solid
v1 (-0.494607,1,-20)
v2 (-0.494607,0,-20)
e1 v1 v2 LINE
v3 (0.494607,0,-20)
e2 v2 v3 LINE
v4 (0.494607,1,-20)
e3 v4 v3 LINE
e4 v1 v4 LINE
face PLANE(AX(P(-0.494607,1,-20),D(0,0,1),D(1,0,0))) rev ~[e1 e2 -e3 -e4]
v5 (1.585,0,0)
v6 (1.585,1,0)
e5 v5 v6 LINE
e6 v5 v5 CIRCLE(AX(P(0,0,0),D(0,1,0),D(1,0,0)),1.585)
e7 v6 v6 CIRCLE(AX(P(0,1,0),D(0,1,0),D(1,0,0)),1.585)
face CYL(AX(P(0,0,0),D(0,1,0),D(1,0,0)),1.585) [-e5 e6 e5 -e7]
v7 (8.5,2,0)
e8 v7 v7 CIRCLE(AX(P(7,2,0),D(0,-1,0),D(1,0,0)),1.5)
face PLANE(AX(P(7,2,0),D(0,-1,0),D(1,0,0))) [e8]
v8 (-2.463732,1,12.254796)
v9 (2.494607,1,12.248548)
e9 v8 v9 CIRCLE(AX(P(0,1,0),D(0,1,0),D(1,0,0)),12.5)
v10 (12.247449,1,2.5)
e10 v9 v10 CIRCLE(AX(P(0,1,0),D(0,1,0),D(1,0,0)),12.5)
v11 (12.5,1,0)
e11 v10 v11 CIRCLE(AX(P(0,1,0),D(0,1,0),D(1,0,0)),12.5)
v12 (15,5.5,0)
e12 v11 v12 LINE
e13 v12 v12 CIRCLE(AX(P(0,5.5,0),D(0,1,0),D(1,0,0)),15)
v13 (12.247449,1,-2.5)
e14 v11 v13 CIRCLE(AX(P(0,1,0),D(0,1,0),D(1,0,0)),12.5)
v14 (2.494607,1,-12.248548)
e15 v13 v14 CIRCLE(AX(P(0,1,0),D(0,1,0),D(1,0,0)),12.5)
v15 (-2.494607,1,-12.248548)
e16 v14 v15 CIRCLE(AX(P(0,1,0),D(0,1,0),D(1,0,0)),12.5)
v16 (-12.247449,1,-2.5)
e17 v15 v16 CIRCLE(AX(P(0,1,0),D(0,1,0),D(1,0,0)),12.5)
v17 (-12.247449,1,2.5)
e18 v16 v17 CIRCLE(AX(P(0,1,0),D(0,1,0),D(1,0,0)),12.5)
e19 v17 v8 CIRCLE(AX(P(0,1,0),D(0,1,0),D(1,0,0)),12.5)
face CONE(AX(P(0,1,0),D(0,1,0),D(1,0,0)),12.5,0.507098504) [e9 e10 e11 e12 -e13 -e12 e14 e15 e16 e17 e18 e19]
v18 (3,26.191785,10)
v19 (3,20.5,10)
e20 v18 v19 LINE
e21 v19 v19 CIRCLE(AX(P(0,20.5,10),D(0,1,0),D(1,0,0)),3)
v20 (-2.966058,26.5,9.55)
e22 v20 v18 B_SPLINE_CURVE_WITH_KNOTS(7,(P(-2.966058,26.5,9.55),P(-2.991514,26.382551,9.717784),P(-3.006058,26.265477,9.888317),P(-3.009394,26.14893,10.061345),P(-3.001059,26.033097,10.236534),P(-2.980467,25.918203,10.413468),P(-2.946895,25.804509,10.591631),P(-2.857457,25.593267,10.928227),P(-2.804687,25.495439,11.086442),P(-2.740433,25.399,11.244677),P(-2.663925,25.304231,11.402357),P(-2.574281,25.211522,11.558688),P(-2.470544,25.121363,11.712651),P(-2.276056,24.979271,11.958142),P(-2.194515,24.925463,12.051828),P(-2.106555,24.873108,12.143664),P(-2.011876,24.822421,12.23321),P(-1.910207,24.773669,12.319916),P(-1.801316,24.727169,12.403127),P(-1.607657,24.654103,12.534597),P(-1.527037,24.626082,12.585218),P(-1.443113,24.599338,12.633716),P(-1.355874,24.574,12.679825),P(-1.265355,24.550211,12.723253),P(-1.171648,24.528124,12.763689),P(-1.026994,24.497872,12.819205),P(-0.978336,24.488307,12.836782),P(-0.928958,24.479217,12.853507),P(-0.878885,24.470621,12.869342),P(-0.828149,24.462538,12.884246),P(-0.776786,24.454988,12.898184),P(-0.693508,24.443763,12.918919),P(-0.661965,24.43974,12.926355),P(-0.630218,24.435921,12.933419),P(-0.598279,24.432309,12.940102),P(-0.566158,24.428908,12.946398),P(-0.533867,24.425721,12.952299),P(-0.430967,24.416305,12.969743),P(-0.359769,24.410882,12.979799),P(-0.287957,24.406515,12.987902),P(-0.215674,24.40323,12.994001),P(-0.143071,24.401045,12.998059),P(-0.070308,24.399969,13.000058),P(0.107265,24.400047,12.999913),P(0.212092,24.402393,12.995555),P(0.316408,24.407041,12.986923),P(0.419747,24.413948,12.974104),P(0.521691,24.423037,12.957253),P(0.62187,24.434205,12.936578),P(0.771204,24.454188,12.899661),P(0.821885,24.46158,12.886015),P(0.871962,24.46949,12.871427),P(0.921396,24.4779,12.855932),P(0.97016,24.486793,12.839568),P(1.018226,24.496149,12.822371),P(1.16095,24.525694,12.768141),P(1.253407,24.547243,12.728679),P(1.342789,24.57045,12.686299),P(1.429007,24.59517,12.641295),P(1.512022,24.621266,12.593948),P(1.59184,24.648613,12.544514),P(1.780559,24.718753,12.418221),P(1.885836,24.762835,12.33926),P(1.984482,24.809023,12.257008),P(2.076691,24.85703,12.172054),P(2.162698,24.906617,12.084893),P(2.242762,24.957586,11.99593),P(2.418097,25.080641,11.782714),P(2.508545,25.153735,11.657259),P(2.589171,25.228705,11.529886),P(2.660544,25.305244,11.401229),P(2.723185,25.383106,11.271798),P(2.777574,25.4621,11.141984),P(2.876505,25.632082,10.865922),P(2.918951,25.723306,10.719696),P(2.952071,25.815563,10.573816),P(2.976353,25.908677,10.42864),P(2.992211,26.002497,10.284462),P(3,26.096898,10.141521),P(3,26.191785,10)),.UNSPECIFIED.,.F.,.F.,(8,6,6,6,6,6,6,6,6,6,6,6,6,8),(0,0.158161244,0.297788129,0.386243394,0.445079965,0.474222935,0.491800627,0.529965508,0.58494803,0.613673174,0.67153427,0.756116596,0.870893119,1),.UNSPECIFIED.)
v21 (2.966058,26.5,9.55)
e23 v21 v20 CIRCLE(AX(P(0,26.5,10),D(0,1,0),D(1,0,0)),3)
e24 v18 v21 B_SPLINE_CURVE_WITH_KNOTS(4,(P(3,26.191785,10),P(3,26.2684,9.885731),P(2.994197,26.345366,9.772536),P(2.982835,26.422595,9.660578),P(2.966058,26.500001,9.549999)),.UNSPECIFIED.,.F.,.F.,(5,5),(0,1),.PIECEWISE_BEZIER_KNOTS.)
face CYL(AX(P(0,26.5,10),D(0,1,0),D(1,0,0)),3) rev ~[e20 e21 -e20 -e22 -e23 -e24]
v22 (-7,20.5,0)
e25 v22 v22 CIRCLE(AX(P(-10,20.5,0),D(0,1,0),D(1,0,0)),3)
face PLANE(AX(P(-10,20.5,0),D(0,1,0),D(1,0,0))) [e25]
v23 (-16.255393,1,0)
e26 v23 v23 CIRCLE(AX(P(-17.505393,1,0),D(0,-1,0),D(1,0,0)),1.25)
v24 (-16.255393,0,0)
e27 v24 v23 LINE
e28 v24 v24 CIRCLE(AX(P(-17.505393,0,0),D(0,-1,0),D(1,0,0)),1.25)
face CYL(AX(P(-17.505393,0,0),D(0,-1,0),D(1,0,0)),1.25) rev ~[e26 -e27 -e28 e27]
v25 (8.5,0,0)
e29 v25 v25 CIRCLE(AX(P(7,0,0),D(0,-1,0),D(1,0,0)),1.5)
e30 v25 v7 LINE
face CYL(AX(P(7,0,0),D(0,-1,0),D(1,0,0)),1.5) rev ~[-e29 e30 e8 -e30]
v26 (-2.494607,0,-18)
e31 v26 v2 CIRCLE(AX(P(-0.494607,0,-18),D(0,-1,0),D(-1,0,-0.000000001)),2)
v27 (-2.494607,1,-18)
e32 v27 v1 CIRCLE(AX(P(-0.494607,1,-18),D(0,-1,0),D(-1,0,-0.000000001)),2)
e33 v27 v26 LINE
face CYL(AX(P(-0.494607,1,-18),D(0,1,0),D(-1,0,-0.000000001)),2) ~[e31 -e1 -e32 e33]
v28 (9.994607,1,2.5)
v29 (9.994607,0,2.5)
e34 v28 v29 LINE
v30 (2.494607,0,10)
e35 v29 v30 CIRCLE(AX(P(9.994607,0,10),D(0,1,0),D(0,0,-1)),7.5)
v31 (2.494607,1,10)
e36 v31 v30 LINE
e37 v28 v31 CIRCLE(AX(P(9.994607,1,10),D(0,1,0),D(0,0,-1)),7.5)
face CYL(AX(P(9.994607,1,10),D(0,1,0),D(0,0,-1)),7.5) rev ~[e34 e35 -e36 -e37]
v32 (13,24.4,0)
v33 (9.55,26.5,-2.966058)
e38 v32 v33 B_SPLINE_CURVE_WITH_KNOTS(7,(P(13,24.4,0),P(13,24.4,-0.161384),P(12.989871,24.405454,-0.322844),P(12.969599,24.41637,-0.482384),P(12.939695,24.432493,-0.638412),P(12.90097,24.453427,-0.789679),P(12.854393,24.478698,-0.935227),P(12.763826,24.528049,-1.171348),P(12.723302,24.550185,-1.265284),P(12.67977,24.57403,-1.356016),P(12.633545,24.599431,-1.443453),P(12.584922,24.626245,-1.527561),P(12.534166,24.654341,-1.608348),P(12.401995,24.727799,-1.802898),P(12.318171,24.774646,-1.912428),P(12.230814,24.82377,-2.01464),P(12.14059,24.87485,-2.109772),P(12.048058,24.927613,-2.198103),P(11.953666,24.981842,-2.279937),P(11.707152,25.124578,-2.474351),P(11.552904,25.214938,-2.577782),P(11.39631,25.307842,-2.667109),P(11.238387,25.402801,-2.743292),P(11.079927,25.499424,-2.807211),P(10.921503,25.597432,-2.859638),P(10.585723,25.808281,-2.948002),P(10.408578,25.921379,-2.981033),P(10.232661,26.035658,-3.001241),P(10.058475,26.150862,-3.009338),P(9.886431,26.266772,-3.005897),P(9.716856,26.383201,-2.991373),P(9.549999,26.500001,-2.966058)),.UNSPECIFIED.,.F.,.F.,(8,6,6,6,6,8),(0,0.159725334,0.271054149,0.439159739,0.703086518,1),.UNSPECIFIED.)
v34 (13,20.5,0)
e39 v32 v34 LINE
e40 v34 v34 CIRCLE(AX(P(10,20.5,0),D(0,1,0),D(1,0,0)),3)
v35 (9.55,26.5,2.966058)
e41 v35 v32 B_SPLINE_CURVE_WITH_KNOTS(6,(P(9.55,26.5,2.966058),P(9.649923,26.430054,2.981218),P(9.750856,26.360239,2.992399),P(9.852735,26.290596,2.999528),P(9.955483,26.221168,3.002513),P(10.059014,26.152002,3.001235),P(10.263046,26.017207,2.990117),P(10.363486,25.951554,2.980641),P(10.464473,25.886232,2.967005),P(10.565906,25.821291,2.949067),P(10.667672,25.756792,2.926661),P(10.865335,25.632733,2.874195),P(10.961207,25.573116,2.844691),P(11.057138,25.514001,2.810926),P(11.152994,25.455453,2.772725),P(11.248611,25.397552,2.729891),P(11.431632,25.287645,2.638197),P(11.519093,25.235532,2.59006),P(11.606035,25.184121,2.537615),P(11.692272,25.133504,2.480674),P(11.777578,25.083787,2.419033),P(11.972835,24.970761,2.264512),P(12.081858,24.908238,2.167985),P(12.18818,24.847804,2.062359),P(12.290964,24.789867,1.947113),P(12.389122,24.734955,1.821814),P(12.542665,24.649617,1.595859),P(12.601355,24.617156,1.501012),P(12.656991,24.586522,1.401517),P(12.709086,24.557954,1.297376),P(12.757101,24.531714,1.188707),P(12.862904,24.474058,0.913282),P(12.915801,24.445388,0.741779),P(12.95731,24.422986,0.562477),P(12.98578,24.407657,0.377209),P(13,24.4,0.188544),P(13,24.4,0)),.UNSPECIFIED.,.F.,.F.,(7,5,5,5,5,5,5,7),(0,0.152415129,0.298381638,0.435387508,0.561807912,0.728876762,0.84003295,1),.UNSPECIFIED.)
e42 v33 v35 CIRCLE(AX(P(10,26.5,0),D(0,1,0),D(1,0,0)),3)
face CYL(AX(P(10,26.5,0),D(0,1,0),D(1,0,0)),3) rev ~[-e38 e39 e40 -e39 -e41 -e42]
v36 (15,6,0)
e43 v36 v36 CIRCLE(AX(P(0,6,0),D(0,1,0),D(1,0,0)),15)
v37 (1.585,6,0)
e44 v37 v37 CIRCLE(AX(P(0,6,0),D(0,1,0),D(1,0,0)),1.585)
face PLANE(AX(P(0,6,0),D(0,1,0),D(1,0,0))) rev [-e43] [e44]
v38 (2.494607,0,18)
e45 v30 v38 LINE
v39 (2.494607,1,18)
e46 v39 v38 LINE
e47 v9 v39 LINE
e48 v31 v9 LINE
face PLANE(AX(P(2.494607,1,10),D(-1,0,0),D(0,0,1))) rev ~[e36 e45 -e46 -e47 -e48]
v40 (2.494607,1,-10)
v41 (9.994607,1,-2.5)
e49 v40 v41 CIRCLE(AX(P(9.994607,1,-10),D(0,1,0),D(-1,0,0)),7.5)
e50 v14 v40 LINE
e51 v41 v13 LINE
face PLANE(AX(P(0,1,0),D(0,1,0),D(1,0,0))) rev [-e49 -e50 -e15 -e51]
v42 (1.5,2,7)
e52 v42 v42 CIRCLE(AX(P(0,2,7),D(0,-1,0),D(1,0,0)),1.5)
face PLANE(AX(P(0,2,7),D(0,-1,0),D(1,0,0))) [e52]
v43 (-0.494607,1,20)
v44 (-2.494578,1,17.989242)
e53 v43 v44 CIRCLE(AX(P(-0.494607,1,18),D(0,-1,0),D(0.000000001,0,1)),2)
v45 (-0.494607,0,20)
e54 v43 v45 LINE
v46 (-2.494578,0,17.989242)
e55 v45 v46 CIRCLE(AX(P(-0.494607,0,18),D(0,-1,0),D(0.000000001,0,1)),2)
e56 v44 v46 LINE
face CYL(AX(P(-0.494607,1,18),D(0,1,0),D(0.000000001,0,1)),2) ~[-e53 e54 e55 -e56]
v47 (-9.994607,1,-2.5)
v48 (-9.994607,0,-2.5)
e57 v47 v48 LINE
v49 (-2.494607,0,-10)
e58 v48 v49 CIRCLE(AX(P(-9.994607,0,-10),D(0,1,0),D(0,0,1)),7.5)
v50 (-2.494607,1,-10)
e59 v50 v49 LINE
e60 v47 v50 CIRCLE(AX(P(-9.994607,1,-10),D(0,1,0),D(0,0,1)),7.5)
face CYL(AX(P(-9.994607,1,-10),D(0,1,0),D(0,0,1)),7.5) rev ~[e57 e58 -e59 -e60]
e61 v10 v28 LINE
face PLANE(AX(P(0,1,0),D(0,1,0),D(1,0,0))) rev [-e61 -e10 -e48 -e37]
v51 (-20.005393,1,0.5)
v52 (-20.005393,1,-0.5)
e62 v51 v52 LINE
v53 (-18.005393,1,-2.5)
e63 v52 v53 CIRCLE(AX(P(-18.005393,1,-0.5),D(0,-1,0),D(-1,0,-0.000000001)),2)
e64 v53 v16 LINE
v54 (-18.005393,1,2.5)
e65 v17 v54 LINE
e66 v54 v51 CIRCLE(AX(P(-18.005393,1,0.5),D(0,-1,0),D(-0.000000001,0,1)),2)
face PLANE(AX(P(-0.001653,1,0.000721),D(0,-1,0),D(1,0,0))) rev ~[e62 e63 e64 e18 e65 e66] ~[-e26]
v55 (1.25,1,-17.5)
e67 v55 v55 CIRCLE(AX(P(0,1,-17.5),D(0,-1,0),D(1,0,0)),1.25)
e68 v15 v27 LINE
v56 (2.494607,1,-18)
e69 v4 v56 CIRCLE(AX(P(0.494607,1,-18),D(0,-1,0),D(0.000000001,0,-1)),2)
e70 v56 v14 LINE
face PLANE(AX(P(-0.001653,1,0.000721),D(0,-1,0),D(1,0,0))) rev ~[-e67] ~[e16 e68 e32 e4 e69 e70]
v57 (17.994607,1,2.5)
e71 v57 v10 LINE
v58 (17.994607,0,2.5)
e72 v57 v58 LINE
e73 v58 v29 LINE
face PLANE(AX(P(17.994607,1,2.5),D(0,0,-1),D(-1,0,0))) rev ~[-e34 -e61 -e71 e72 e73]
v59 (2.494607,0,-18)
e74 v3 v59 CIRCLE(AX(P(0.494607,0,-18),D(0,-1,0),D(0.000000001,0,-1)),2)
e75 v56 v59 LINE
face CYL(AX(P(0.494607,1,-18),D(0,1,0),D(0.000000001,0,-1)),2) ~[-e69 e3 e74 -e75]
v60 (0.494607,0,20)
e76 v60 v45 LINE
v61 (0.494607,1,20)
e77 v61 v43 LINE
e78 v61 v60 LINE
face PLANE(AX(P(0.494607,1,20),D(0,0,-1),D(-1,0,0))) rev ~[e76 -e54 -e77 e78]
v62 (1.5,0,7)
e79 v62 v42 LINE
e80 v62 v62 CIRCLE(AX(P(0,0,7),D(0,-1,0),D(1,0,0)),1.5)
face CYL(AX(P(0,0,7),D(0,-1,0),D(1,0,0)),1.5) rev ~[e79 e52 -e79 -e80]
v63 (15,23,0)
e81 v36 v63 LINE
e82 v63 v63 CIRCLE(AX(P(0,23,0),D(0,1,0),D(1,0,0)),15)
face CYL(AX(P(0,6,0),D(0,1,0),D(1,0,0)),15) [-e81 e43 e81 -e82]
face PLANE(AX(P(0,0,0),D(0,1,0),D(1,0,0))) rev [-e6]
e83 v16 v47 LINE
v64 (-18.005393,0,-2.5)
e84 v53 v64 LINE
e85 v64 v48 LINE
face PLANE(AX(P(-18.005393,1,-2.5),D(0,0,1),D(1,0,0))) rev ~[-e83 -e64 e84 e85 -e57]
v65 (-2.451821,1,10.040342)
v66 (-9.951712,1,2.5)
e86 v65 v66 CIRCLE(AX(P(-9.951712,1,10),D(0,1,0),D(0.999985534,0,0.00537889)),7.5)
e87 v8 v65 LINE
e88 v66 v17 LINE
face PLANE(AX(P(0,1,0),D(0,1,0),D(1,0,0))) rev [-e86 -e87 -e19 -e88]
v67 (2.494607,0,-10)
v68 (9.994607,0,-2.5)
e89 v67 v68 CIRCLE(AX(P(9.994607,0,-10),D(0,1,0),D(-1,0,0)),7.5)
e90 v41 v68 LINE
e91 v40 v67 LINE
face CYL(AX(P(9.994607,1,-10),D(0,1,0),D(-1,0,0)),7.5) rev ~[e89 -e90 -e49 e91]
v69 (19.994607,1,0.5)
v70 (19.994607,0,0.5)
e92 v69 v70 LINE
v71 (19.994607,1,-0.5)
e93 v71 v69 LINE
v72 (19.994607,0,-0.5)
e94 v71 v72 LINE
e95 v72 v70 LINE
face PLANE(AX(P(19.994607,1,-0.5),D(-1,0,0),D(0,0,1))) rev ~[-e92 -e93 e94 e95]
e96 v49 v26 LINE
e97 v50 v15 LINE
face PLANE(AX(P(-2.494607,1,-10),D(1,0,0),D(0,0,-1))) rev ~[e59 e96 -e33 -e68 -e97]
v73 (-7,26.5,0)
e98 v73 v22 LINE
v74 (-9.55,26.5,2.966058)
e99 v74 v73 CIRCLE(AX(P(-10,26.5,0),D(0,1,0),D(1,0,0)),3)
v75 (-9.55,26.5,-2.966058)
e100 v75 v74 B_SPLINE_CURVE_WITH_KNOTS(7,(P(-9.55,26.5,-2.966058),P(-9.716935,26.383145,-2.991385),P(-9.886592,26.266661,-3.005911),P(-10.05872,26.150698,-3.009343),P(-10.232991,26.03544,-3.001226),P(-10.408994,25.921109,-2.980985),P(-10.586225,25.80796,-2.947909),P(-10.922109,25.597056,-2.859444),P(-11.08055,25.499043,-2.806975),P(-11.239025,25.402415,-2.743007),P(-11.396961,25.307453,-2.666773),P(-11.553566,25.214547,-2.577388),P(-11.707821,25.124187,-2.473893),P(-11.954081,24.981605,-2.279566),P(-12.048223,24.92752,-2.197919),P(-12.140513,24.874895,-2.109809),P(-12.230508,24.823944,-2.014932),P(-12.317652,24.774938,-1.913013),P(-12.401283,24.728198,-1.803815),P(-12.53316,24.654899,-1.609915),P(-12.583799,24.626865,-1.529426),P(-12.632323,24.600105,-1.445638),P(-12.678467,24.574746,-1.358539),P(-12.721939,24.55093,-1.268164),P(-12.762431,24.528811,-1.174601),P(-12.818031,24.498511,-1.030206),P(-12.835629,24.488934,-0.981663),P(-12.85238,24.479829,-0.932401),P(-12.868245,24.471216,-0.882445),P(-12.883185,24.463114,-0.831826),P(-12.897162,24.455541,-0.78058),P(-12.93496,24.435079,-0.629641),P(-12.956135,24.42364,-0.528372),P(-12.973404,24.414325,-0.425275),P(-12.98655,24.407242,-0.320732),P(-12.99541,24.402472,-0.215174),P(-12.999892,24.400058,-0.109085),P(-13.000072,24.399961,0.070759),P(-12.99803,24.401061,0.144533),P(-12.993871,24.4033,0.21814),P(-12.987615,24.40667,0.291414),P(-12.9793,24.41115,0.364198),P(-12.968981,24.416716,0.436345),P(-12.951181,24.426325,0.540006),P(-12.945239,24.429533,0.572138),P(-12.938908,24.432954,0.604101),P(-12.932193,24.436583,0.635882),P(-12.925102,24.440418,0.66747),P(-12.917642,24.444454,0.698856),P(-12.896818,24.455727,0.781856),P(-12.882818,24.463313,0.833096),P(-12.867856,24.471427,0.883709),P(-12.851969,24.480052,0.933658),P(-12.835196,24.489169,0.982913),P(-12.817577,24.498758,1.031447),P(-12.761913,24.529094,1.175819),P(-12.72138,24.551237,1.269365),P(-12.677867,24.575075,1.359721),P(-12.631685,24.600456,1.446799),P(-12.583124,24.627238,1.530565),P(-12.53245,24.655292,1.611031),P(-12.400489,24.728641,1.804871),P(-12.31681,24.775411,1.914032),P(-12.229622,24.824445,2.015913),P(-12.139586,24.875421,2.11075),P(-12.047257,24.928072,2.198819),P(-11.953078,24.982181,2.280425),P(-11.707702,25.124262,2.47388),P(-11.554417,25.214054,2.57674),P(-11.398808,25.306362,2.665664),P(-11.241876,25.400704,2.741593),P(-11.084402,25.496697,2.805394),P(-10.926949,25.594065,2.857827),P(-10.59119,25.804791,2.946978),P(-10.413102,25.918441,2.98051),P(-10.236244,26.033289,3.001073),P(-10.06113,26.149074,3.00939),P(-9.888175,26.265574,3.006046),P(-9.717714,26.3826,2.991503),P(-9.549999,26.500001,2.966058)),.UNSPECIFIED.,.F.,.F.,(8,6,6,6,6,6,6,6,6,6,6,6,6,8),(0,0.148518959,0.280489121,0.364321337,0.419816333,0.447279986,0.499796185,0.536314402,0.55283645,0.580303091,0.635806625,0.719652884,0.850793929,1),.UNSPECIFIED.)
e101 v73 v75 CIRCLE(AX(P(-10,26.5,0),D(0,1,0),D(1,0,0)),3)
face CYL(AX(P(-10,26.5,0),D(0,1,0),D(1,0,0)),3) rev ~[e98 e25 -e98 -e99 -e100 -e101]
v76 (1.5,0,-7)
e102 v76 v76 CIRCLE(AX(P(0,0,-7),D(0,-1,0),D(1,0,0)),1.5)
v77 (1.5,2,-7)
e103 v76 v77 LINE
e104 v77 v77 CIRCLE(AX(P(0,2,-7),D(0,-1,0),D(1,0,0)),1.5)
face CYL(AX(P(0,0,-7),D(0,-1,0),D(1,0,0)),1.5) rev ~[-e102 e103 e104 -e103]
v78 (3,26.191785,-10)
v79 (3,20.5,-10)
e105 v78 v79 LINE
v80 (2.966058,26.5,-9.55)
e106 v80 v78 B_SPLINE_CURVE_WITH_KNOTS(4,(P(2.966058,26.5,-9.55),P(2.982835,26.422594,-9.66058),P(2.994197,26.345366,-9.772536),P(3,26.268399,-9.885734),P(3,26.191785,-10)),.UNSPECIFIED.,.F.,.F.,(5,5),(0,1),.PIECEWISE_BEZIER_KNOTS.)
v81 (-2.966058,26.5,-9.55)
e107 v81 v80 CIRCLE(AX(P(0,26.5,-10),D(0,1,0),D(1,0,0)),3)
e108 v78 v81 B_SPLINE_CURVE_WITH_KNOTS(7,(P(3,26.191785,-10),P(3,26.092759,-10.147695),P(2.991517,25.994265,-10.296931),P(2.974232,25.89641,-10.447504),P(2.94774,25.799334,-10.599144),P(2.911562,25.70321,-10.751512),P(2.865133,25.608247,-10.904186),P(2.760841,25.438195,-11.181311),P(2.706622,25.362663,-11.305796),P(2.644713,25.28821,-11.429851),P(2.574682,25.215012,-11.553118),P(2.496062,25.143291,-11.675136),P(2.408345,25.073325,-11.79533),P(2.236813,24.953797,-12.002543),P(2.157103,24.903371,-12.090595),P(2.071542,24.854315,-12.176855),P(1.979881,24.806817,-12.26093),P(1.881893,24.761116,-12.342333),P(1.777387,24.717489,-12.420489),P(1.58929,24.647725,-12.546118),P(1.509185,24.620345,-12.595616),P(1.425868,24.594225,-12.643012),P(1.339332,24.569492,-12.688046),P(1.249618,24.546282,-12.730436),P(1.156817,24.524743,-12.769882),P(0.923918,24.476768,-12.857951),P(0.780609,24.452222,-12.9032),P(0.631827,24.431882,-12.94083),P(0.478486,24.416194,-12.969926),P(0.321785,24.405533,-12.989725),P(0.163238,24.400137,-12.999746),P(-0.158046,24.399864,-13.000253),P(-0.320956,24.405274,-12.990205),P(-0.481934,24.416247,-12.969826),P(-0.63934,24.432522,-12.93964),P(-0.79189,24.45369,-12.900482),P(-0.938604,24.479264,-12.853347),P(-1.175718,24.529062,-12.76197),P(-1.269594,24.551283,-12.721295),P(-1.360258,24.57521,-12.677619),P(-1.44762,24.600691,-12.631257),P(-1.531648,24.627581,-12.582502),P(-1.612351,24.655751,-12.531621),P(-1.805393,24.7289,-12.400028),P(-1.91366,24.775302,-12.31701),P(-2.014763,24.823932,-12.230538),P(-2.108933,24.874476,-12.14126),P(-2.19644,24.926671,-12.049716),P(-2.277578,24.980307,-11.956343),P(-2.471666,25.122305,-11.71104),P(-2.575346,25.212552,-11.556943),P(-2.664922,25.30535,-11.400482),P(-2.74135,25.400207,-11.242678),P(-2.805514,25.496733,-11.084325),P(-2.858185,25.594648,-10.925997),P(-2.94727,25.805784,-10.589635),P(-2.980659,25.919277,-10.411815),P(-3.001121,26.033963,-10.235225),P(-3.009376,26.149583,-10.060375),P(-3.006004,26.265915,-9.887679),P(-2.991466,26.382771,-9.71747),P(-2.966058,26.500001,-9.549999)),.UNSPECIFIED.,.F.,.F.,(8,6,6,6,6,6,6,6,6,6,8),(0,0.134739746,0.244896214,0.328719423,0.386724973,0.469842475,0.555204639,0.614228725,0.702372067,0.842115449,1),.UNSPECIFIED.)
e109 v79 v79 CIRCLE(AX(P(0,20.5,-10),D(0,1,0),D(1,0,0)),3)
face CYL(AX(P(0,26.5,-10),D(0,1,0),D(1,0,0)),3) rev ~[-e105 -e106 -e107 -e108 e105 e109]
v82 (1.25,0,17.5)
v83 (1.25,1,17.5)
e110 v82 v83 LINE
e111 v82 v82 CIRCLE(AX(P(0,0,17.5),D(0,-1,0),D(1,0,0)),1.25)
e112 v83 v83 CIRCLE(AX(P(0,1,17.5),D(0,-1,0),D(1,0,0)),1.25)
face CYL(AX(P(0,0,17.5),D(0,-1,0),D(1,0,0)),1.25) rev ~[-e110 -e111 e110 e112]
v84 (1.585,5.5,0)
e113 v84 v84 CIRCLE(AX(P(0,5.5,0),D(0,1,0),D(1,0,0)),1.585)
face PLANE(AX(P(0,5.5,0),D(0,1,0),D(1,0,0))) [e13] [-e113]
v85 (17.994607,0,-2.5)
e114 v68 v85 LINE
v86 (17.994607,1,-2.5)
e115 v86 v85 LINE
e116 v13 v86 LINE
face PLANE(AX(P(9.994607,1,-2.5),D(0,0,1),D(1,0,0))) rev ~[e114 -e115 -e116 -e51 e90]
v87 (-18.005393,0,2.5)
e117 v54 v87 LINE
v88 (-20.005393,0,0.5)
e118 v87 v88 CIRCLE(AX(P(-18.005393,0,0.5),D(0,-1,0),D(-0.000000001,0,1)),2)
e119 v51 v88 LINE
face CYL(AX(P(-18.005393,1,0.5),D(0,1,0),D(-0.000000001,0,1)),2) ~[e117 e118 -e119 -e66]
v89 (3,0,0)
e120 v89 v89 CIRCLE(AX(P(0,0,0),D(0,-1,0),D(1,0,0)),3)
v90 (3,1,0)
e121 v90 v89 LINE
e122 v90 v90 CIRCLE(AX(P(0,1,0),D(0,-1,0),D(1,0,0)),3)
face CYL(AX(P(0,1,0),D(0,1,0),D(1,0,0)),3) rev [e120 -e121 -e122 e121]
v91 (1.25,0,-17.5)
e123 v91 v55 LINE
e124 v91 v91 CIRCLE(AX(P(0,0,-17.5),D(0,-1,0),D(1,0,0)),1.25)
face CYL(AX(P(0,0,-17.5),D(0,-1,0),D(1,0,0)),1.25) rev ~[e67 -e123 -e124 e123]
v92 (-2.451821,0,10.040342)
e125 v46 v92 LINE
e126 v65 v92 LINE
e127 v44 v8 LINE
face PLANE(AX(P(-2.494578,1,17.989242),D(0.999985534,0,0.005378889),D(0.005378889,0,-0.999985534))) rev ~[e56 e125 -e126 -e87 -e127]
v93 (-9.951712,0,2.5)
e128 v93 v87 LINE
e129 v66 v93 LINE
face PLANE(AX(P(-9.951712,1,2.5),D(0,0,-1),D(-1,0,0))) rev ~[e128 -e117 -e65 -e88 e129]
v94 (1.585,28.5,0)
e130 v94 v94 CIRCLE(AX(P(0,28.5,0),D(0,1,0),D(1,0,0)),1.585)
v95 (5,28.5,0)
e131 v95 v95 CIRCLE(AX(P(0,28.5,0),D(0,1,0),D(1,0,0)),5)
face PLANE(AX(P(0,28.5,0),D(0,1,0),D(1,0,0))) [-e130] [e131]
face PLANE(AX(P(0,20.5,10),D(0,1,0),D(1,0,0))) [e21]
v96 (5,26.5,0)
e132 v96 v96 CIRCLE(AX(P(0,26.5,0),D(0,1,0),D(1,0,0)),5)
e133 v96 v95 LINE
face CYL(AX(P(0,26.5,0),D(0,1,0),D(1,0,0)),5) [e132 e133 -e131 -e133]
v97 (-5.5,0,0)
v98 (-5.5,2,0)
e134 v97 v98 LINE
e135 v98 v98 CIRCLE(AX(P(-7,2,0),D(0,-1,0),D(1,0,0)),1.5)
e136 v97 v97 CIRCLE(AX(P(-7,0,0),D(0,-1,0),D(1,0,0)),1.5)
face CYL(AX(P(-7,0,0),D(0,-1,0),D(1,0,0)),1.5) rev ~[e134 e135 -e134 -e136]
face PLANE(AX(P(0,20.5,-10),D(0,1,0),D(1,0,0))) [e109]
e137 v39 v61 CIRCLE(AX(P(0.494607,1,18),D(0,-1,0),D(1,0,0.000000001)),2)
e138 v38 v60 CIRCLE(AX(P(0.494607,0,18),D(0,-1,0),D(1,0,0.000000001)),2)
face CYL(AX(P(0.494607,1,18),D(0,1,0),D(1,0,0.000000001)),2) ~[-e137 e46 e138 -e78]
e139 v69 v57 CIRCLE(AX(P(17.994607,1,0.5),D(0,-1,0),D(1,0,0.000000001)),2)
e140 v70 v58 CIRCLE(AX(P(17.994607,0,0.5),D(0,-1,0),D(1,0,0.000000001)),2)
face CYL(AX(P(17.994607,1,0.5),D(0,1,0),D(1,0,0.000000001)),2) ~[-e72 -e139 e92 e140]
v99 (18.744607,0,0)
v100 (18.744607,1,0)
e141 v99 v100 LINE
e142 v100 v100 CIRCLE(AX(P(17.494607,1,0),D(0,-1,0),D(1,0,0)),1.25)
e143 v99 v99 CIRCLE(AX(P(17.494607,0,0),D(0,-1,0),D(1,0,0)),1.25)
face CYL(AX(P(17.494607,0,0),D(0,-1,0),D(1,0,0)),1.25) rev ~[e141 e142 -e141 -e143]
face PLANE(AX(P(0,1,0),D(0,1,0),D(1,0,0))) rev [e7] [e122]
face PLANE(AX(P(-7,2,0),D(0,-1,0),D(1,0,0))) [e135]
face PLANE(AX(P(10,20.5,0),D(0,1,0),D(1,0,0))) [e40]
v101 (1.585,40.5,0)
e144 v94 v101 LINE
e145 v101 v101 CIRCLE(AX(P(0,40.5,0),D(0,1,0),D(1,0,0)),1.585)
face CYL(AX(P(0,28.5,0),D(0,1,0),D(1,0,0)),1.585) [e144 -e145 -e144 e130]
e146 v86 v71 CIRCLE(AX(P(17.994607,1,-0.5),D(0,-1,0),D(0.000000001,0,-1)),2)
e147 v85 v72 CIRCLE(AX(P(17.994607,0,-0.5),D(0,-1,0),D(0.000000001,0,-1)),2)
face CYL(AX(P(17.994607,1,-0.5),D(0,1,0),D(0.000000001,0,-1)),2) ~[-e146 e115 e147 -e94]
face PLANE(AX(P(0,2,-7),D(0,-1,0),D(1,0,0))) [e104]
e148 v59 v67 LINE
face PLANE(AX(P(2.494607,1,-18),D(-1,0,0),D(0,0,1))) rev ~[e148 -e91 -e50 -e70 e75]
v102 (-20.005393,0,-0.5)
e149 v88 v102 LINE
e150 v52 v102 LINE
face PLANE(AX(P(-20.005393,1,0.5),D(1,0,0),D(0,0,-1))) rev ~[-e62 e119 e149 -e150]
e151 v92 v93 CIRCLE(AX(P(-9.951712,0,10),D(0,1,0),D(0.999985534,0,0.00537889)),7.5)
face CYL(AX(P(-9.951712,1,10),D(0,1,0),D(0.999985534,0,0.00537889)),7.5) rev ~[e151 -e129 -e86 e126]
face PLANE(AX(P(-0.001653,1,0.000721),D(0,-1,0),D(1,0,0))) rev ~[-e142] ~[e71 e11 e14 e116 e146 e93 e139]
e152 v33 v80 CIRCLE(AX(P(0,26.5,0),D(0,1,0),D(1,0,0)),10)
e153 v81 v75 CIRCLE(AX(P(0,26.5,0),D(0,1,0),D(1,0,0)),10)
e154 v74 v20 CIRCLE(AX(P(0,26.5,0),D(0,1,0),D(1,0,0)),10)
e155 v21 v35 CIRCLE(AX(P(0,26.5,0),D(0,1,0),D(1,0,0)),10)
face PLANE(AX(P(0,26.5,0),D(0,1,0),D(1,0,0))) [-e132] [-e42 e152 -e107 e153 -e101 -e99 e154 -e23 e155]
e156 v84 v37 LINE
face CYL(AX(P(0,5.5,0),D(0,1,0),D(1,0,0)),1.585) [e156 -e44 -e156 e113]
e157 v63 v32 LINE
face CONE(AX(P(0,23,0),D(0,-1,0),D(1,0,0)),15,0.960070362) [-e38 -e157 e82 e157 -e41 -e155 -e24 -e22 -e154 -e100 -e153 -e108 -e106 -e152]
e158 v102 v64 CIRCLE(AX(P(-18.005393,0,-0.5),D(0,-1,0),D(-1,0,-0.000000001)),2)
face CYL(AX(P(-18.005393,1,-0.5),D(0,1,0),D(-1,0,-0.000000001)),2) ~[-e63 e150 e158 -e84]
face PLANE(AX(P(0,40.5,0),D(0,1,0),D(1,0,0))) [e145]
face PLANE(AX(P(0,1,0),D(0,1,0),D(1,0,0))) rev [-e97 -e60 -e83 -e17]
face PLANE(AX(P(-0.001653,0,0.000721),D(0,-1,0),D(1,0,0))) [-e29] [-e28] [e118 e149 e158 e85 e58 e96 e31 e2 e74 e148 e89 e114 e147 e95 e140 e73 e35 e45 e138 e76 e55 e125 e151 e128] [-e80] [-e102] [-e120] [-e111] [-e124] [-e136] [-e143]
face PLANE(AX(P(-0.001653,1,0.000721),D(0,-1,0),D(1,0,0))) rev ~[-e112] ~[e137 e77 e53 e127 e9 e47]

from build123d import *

# Parameters (mm, degrees)
SKETCH4_R                  = 3
MOTOR_COOLING_SYSTEM_DEPTH = 6
SKETCH6_R                  = 3
MOTOR_BASE_HOLDER_DEPTH    = 1
SKETCH9_R                  = 1.25
SKETCH9_R_2                = 1.5
SCREWS_CUT_DEPTH           = 2


with BuildPart() as part:
    # Sketch1 → Electric motor body (revolve)
    with BuildSketch(Plane.XY):
        Polygon((0, 0), (1.585, 0), (1.585, 1), (12.5, 1), (15, 5.5), (1.585, 5.5), (1.585, 6), (15, 6), (15, 23), (10, 26.5), (5, 26.5), (5, 28.5), (1.585, 28.5), (1.585, 40.5), (0, 40.5), align=None)
    revolve(axis=Axis((0, 0, 0), (0, 1, 0)))

    # Sketch4 → motor cooling system (cut)
    with BuildSketch(Plane(origin=(0, 26.5, 0), x_dir=(1, 0, 0), z_dir=(0, 1, 0))):
        with Locations((0, -10)):
            Circle(SKETCH4_R)
        with Locations((-10, 0)):
            Circle(SKETCH4_R)
        with Locations((10, 0)):
            Circle(SKETCH4_R)
        with Locations((0, 10)):
            Circle(SKETCH4_R)
    extrude(amount=-MOTOR_COOLING_SYSTEM_DEPTH, mode=Mode.SUBTRACT)

    # Sketch6 → Motor base holder (add)
    with BuildSketch(Plane.XZ.offset(-1)):
        with BuildLine():
            Line((19.994606566, -0.5), (19.994606566, 0.5))
            ThreePointArc((19.994606566, 0.5), (19.408820128, 1.914213562), (17.994606566, 2.5))
            Line((17.994606566, 2.5), (9.994606566, 2.5))
            ThreePointArc((9.994606566, 2.5), (4.691305707, 4.696699141), (2.494606566, 10))
            Line((2.494606566, 10), (2.494606566, 18))
            ThreePointArc((2.494606566, 18), (1.908820128, 19.414213562), (0.494606566, 20))
            Line((0.494606566, 20), (-0.494606566, 20))
            ThreePointArc((-0.494606566, 20), (-1.912618477, 19.410404985), (-2.494577633, 17.989242221))
            Line((-2.494577633, 17.989242221), (-2.451820757, 10.040341672))
            ThreePointArc((-2.451820757, 10.040341672), (-4.634167594, 4.710981307), (-9.951712259, 2.5))
            Line((-9.951712259, 2.5), (-18.005393434, 2.5))
            ThreePointArc((-18.005393434, 2.5), (-19.419606996, 1.914213562), (-20.005393434, 0.5))
            Line((-20.005393434, 0.5), (-20.005393434, -0.5))
            ThreePointArc((-20.005393434, -0.5), (-19.419606996, -1.914213562), (-18.005393434, -2.5))
            Line((-18.005393434, -2.5), (-9.994606566, -2.5))
            ThreePointArc((-9.994606566, -2.5), (-4.691305707, -4.696699141), (-2.494606566, -10))
            Line((-2.494606566, -10), (-2.494606566, -18))
            ThreePointArc((-2.494606566, -18), (-1.908820128, -19.414213562), (-0.494606566, -20))
            Line((-0.494606566, -20), (0.494606566, -20))
            ThreePointArc((0.494606566, -20), (1.908820128, -19.414213562), (2.494606566, -18))
            Line((2.494606566, -18), (2.494606566, -10))
            ThreePointArc((2.494606566, -10), (4.691305707, -4.696699141), (9.994606566, -2.5))
            Line((9.994606566, -2.5), (17.994606566, -2.5))
            ThreePointArc((17.994606566, -2.5), (19.408820128, -1.914213562), (19.994606566, -0.5))
        make_face()
        Circle(SKETCH6_R, mode=Mode.SUBTRACT)
    extrude(amount=MOTOR_BASE_HOLDER_DEPTH)

    # Sketch9 → Screws cut (cut)
    with BuildSketch(Plane.XZ):
        with Locations((-17.505393434, 0)):
            Circle(SKETCH9_R)
        with Locations((17.494606566, 0)):
            Circle(SKETCH9_R)
        with Locations((0, -17.5)):
            Circle(SKETCH9_R)
        with Locations((0, 17.5)):
            Circle(SKETCH9_R)
        with Locations((7, 0)):
            Circle(SKETCH9_R_2)
        with Locations((0, -7)):
            Circle(SKETCH9_R_2)
        with Locations((-7, 0)):
            Circle(SKETCH9_R_2)
        with Locations((0, 7)):
            Circle(SKETCH9_R_2)
    extrude(amount=-SCREWS_CUT_DEPTH, mode=Mode.SUBTRACT)


solid = part.part
